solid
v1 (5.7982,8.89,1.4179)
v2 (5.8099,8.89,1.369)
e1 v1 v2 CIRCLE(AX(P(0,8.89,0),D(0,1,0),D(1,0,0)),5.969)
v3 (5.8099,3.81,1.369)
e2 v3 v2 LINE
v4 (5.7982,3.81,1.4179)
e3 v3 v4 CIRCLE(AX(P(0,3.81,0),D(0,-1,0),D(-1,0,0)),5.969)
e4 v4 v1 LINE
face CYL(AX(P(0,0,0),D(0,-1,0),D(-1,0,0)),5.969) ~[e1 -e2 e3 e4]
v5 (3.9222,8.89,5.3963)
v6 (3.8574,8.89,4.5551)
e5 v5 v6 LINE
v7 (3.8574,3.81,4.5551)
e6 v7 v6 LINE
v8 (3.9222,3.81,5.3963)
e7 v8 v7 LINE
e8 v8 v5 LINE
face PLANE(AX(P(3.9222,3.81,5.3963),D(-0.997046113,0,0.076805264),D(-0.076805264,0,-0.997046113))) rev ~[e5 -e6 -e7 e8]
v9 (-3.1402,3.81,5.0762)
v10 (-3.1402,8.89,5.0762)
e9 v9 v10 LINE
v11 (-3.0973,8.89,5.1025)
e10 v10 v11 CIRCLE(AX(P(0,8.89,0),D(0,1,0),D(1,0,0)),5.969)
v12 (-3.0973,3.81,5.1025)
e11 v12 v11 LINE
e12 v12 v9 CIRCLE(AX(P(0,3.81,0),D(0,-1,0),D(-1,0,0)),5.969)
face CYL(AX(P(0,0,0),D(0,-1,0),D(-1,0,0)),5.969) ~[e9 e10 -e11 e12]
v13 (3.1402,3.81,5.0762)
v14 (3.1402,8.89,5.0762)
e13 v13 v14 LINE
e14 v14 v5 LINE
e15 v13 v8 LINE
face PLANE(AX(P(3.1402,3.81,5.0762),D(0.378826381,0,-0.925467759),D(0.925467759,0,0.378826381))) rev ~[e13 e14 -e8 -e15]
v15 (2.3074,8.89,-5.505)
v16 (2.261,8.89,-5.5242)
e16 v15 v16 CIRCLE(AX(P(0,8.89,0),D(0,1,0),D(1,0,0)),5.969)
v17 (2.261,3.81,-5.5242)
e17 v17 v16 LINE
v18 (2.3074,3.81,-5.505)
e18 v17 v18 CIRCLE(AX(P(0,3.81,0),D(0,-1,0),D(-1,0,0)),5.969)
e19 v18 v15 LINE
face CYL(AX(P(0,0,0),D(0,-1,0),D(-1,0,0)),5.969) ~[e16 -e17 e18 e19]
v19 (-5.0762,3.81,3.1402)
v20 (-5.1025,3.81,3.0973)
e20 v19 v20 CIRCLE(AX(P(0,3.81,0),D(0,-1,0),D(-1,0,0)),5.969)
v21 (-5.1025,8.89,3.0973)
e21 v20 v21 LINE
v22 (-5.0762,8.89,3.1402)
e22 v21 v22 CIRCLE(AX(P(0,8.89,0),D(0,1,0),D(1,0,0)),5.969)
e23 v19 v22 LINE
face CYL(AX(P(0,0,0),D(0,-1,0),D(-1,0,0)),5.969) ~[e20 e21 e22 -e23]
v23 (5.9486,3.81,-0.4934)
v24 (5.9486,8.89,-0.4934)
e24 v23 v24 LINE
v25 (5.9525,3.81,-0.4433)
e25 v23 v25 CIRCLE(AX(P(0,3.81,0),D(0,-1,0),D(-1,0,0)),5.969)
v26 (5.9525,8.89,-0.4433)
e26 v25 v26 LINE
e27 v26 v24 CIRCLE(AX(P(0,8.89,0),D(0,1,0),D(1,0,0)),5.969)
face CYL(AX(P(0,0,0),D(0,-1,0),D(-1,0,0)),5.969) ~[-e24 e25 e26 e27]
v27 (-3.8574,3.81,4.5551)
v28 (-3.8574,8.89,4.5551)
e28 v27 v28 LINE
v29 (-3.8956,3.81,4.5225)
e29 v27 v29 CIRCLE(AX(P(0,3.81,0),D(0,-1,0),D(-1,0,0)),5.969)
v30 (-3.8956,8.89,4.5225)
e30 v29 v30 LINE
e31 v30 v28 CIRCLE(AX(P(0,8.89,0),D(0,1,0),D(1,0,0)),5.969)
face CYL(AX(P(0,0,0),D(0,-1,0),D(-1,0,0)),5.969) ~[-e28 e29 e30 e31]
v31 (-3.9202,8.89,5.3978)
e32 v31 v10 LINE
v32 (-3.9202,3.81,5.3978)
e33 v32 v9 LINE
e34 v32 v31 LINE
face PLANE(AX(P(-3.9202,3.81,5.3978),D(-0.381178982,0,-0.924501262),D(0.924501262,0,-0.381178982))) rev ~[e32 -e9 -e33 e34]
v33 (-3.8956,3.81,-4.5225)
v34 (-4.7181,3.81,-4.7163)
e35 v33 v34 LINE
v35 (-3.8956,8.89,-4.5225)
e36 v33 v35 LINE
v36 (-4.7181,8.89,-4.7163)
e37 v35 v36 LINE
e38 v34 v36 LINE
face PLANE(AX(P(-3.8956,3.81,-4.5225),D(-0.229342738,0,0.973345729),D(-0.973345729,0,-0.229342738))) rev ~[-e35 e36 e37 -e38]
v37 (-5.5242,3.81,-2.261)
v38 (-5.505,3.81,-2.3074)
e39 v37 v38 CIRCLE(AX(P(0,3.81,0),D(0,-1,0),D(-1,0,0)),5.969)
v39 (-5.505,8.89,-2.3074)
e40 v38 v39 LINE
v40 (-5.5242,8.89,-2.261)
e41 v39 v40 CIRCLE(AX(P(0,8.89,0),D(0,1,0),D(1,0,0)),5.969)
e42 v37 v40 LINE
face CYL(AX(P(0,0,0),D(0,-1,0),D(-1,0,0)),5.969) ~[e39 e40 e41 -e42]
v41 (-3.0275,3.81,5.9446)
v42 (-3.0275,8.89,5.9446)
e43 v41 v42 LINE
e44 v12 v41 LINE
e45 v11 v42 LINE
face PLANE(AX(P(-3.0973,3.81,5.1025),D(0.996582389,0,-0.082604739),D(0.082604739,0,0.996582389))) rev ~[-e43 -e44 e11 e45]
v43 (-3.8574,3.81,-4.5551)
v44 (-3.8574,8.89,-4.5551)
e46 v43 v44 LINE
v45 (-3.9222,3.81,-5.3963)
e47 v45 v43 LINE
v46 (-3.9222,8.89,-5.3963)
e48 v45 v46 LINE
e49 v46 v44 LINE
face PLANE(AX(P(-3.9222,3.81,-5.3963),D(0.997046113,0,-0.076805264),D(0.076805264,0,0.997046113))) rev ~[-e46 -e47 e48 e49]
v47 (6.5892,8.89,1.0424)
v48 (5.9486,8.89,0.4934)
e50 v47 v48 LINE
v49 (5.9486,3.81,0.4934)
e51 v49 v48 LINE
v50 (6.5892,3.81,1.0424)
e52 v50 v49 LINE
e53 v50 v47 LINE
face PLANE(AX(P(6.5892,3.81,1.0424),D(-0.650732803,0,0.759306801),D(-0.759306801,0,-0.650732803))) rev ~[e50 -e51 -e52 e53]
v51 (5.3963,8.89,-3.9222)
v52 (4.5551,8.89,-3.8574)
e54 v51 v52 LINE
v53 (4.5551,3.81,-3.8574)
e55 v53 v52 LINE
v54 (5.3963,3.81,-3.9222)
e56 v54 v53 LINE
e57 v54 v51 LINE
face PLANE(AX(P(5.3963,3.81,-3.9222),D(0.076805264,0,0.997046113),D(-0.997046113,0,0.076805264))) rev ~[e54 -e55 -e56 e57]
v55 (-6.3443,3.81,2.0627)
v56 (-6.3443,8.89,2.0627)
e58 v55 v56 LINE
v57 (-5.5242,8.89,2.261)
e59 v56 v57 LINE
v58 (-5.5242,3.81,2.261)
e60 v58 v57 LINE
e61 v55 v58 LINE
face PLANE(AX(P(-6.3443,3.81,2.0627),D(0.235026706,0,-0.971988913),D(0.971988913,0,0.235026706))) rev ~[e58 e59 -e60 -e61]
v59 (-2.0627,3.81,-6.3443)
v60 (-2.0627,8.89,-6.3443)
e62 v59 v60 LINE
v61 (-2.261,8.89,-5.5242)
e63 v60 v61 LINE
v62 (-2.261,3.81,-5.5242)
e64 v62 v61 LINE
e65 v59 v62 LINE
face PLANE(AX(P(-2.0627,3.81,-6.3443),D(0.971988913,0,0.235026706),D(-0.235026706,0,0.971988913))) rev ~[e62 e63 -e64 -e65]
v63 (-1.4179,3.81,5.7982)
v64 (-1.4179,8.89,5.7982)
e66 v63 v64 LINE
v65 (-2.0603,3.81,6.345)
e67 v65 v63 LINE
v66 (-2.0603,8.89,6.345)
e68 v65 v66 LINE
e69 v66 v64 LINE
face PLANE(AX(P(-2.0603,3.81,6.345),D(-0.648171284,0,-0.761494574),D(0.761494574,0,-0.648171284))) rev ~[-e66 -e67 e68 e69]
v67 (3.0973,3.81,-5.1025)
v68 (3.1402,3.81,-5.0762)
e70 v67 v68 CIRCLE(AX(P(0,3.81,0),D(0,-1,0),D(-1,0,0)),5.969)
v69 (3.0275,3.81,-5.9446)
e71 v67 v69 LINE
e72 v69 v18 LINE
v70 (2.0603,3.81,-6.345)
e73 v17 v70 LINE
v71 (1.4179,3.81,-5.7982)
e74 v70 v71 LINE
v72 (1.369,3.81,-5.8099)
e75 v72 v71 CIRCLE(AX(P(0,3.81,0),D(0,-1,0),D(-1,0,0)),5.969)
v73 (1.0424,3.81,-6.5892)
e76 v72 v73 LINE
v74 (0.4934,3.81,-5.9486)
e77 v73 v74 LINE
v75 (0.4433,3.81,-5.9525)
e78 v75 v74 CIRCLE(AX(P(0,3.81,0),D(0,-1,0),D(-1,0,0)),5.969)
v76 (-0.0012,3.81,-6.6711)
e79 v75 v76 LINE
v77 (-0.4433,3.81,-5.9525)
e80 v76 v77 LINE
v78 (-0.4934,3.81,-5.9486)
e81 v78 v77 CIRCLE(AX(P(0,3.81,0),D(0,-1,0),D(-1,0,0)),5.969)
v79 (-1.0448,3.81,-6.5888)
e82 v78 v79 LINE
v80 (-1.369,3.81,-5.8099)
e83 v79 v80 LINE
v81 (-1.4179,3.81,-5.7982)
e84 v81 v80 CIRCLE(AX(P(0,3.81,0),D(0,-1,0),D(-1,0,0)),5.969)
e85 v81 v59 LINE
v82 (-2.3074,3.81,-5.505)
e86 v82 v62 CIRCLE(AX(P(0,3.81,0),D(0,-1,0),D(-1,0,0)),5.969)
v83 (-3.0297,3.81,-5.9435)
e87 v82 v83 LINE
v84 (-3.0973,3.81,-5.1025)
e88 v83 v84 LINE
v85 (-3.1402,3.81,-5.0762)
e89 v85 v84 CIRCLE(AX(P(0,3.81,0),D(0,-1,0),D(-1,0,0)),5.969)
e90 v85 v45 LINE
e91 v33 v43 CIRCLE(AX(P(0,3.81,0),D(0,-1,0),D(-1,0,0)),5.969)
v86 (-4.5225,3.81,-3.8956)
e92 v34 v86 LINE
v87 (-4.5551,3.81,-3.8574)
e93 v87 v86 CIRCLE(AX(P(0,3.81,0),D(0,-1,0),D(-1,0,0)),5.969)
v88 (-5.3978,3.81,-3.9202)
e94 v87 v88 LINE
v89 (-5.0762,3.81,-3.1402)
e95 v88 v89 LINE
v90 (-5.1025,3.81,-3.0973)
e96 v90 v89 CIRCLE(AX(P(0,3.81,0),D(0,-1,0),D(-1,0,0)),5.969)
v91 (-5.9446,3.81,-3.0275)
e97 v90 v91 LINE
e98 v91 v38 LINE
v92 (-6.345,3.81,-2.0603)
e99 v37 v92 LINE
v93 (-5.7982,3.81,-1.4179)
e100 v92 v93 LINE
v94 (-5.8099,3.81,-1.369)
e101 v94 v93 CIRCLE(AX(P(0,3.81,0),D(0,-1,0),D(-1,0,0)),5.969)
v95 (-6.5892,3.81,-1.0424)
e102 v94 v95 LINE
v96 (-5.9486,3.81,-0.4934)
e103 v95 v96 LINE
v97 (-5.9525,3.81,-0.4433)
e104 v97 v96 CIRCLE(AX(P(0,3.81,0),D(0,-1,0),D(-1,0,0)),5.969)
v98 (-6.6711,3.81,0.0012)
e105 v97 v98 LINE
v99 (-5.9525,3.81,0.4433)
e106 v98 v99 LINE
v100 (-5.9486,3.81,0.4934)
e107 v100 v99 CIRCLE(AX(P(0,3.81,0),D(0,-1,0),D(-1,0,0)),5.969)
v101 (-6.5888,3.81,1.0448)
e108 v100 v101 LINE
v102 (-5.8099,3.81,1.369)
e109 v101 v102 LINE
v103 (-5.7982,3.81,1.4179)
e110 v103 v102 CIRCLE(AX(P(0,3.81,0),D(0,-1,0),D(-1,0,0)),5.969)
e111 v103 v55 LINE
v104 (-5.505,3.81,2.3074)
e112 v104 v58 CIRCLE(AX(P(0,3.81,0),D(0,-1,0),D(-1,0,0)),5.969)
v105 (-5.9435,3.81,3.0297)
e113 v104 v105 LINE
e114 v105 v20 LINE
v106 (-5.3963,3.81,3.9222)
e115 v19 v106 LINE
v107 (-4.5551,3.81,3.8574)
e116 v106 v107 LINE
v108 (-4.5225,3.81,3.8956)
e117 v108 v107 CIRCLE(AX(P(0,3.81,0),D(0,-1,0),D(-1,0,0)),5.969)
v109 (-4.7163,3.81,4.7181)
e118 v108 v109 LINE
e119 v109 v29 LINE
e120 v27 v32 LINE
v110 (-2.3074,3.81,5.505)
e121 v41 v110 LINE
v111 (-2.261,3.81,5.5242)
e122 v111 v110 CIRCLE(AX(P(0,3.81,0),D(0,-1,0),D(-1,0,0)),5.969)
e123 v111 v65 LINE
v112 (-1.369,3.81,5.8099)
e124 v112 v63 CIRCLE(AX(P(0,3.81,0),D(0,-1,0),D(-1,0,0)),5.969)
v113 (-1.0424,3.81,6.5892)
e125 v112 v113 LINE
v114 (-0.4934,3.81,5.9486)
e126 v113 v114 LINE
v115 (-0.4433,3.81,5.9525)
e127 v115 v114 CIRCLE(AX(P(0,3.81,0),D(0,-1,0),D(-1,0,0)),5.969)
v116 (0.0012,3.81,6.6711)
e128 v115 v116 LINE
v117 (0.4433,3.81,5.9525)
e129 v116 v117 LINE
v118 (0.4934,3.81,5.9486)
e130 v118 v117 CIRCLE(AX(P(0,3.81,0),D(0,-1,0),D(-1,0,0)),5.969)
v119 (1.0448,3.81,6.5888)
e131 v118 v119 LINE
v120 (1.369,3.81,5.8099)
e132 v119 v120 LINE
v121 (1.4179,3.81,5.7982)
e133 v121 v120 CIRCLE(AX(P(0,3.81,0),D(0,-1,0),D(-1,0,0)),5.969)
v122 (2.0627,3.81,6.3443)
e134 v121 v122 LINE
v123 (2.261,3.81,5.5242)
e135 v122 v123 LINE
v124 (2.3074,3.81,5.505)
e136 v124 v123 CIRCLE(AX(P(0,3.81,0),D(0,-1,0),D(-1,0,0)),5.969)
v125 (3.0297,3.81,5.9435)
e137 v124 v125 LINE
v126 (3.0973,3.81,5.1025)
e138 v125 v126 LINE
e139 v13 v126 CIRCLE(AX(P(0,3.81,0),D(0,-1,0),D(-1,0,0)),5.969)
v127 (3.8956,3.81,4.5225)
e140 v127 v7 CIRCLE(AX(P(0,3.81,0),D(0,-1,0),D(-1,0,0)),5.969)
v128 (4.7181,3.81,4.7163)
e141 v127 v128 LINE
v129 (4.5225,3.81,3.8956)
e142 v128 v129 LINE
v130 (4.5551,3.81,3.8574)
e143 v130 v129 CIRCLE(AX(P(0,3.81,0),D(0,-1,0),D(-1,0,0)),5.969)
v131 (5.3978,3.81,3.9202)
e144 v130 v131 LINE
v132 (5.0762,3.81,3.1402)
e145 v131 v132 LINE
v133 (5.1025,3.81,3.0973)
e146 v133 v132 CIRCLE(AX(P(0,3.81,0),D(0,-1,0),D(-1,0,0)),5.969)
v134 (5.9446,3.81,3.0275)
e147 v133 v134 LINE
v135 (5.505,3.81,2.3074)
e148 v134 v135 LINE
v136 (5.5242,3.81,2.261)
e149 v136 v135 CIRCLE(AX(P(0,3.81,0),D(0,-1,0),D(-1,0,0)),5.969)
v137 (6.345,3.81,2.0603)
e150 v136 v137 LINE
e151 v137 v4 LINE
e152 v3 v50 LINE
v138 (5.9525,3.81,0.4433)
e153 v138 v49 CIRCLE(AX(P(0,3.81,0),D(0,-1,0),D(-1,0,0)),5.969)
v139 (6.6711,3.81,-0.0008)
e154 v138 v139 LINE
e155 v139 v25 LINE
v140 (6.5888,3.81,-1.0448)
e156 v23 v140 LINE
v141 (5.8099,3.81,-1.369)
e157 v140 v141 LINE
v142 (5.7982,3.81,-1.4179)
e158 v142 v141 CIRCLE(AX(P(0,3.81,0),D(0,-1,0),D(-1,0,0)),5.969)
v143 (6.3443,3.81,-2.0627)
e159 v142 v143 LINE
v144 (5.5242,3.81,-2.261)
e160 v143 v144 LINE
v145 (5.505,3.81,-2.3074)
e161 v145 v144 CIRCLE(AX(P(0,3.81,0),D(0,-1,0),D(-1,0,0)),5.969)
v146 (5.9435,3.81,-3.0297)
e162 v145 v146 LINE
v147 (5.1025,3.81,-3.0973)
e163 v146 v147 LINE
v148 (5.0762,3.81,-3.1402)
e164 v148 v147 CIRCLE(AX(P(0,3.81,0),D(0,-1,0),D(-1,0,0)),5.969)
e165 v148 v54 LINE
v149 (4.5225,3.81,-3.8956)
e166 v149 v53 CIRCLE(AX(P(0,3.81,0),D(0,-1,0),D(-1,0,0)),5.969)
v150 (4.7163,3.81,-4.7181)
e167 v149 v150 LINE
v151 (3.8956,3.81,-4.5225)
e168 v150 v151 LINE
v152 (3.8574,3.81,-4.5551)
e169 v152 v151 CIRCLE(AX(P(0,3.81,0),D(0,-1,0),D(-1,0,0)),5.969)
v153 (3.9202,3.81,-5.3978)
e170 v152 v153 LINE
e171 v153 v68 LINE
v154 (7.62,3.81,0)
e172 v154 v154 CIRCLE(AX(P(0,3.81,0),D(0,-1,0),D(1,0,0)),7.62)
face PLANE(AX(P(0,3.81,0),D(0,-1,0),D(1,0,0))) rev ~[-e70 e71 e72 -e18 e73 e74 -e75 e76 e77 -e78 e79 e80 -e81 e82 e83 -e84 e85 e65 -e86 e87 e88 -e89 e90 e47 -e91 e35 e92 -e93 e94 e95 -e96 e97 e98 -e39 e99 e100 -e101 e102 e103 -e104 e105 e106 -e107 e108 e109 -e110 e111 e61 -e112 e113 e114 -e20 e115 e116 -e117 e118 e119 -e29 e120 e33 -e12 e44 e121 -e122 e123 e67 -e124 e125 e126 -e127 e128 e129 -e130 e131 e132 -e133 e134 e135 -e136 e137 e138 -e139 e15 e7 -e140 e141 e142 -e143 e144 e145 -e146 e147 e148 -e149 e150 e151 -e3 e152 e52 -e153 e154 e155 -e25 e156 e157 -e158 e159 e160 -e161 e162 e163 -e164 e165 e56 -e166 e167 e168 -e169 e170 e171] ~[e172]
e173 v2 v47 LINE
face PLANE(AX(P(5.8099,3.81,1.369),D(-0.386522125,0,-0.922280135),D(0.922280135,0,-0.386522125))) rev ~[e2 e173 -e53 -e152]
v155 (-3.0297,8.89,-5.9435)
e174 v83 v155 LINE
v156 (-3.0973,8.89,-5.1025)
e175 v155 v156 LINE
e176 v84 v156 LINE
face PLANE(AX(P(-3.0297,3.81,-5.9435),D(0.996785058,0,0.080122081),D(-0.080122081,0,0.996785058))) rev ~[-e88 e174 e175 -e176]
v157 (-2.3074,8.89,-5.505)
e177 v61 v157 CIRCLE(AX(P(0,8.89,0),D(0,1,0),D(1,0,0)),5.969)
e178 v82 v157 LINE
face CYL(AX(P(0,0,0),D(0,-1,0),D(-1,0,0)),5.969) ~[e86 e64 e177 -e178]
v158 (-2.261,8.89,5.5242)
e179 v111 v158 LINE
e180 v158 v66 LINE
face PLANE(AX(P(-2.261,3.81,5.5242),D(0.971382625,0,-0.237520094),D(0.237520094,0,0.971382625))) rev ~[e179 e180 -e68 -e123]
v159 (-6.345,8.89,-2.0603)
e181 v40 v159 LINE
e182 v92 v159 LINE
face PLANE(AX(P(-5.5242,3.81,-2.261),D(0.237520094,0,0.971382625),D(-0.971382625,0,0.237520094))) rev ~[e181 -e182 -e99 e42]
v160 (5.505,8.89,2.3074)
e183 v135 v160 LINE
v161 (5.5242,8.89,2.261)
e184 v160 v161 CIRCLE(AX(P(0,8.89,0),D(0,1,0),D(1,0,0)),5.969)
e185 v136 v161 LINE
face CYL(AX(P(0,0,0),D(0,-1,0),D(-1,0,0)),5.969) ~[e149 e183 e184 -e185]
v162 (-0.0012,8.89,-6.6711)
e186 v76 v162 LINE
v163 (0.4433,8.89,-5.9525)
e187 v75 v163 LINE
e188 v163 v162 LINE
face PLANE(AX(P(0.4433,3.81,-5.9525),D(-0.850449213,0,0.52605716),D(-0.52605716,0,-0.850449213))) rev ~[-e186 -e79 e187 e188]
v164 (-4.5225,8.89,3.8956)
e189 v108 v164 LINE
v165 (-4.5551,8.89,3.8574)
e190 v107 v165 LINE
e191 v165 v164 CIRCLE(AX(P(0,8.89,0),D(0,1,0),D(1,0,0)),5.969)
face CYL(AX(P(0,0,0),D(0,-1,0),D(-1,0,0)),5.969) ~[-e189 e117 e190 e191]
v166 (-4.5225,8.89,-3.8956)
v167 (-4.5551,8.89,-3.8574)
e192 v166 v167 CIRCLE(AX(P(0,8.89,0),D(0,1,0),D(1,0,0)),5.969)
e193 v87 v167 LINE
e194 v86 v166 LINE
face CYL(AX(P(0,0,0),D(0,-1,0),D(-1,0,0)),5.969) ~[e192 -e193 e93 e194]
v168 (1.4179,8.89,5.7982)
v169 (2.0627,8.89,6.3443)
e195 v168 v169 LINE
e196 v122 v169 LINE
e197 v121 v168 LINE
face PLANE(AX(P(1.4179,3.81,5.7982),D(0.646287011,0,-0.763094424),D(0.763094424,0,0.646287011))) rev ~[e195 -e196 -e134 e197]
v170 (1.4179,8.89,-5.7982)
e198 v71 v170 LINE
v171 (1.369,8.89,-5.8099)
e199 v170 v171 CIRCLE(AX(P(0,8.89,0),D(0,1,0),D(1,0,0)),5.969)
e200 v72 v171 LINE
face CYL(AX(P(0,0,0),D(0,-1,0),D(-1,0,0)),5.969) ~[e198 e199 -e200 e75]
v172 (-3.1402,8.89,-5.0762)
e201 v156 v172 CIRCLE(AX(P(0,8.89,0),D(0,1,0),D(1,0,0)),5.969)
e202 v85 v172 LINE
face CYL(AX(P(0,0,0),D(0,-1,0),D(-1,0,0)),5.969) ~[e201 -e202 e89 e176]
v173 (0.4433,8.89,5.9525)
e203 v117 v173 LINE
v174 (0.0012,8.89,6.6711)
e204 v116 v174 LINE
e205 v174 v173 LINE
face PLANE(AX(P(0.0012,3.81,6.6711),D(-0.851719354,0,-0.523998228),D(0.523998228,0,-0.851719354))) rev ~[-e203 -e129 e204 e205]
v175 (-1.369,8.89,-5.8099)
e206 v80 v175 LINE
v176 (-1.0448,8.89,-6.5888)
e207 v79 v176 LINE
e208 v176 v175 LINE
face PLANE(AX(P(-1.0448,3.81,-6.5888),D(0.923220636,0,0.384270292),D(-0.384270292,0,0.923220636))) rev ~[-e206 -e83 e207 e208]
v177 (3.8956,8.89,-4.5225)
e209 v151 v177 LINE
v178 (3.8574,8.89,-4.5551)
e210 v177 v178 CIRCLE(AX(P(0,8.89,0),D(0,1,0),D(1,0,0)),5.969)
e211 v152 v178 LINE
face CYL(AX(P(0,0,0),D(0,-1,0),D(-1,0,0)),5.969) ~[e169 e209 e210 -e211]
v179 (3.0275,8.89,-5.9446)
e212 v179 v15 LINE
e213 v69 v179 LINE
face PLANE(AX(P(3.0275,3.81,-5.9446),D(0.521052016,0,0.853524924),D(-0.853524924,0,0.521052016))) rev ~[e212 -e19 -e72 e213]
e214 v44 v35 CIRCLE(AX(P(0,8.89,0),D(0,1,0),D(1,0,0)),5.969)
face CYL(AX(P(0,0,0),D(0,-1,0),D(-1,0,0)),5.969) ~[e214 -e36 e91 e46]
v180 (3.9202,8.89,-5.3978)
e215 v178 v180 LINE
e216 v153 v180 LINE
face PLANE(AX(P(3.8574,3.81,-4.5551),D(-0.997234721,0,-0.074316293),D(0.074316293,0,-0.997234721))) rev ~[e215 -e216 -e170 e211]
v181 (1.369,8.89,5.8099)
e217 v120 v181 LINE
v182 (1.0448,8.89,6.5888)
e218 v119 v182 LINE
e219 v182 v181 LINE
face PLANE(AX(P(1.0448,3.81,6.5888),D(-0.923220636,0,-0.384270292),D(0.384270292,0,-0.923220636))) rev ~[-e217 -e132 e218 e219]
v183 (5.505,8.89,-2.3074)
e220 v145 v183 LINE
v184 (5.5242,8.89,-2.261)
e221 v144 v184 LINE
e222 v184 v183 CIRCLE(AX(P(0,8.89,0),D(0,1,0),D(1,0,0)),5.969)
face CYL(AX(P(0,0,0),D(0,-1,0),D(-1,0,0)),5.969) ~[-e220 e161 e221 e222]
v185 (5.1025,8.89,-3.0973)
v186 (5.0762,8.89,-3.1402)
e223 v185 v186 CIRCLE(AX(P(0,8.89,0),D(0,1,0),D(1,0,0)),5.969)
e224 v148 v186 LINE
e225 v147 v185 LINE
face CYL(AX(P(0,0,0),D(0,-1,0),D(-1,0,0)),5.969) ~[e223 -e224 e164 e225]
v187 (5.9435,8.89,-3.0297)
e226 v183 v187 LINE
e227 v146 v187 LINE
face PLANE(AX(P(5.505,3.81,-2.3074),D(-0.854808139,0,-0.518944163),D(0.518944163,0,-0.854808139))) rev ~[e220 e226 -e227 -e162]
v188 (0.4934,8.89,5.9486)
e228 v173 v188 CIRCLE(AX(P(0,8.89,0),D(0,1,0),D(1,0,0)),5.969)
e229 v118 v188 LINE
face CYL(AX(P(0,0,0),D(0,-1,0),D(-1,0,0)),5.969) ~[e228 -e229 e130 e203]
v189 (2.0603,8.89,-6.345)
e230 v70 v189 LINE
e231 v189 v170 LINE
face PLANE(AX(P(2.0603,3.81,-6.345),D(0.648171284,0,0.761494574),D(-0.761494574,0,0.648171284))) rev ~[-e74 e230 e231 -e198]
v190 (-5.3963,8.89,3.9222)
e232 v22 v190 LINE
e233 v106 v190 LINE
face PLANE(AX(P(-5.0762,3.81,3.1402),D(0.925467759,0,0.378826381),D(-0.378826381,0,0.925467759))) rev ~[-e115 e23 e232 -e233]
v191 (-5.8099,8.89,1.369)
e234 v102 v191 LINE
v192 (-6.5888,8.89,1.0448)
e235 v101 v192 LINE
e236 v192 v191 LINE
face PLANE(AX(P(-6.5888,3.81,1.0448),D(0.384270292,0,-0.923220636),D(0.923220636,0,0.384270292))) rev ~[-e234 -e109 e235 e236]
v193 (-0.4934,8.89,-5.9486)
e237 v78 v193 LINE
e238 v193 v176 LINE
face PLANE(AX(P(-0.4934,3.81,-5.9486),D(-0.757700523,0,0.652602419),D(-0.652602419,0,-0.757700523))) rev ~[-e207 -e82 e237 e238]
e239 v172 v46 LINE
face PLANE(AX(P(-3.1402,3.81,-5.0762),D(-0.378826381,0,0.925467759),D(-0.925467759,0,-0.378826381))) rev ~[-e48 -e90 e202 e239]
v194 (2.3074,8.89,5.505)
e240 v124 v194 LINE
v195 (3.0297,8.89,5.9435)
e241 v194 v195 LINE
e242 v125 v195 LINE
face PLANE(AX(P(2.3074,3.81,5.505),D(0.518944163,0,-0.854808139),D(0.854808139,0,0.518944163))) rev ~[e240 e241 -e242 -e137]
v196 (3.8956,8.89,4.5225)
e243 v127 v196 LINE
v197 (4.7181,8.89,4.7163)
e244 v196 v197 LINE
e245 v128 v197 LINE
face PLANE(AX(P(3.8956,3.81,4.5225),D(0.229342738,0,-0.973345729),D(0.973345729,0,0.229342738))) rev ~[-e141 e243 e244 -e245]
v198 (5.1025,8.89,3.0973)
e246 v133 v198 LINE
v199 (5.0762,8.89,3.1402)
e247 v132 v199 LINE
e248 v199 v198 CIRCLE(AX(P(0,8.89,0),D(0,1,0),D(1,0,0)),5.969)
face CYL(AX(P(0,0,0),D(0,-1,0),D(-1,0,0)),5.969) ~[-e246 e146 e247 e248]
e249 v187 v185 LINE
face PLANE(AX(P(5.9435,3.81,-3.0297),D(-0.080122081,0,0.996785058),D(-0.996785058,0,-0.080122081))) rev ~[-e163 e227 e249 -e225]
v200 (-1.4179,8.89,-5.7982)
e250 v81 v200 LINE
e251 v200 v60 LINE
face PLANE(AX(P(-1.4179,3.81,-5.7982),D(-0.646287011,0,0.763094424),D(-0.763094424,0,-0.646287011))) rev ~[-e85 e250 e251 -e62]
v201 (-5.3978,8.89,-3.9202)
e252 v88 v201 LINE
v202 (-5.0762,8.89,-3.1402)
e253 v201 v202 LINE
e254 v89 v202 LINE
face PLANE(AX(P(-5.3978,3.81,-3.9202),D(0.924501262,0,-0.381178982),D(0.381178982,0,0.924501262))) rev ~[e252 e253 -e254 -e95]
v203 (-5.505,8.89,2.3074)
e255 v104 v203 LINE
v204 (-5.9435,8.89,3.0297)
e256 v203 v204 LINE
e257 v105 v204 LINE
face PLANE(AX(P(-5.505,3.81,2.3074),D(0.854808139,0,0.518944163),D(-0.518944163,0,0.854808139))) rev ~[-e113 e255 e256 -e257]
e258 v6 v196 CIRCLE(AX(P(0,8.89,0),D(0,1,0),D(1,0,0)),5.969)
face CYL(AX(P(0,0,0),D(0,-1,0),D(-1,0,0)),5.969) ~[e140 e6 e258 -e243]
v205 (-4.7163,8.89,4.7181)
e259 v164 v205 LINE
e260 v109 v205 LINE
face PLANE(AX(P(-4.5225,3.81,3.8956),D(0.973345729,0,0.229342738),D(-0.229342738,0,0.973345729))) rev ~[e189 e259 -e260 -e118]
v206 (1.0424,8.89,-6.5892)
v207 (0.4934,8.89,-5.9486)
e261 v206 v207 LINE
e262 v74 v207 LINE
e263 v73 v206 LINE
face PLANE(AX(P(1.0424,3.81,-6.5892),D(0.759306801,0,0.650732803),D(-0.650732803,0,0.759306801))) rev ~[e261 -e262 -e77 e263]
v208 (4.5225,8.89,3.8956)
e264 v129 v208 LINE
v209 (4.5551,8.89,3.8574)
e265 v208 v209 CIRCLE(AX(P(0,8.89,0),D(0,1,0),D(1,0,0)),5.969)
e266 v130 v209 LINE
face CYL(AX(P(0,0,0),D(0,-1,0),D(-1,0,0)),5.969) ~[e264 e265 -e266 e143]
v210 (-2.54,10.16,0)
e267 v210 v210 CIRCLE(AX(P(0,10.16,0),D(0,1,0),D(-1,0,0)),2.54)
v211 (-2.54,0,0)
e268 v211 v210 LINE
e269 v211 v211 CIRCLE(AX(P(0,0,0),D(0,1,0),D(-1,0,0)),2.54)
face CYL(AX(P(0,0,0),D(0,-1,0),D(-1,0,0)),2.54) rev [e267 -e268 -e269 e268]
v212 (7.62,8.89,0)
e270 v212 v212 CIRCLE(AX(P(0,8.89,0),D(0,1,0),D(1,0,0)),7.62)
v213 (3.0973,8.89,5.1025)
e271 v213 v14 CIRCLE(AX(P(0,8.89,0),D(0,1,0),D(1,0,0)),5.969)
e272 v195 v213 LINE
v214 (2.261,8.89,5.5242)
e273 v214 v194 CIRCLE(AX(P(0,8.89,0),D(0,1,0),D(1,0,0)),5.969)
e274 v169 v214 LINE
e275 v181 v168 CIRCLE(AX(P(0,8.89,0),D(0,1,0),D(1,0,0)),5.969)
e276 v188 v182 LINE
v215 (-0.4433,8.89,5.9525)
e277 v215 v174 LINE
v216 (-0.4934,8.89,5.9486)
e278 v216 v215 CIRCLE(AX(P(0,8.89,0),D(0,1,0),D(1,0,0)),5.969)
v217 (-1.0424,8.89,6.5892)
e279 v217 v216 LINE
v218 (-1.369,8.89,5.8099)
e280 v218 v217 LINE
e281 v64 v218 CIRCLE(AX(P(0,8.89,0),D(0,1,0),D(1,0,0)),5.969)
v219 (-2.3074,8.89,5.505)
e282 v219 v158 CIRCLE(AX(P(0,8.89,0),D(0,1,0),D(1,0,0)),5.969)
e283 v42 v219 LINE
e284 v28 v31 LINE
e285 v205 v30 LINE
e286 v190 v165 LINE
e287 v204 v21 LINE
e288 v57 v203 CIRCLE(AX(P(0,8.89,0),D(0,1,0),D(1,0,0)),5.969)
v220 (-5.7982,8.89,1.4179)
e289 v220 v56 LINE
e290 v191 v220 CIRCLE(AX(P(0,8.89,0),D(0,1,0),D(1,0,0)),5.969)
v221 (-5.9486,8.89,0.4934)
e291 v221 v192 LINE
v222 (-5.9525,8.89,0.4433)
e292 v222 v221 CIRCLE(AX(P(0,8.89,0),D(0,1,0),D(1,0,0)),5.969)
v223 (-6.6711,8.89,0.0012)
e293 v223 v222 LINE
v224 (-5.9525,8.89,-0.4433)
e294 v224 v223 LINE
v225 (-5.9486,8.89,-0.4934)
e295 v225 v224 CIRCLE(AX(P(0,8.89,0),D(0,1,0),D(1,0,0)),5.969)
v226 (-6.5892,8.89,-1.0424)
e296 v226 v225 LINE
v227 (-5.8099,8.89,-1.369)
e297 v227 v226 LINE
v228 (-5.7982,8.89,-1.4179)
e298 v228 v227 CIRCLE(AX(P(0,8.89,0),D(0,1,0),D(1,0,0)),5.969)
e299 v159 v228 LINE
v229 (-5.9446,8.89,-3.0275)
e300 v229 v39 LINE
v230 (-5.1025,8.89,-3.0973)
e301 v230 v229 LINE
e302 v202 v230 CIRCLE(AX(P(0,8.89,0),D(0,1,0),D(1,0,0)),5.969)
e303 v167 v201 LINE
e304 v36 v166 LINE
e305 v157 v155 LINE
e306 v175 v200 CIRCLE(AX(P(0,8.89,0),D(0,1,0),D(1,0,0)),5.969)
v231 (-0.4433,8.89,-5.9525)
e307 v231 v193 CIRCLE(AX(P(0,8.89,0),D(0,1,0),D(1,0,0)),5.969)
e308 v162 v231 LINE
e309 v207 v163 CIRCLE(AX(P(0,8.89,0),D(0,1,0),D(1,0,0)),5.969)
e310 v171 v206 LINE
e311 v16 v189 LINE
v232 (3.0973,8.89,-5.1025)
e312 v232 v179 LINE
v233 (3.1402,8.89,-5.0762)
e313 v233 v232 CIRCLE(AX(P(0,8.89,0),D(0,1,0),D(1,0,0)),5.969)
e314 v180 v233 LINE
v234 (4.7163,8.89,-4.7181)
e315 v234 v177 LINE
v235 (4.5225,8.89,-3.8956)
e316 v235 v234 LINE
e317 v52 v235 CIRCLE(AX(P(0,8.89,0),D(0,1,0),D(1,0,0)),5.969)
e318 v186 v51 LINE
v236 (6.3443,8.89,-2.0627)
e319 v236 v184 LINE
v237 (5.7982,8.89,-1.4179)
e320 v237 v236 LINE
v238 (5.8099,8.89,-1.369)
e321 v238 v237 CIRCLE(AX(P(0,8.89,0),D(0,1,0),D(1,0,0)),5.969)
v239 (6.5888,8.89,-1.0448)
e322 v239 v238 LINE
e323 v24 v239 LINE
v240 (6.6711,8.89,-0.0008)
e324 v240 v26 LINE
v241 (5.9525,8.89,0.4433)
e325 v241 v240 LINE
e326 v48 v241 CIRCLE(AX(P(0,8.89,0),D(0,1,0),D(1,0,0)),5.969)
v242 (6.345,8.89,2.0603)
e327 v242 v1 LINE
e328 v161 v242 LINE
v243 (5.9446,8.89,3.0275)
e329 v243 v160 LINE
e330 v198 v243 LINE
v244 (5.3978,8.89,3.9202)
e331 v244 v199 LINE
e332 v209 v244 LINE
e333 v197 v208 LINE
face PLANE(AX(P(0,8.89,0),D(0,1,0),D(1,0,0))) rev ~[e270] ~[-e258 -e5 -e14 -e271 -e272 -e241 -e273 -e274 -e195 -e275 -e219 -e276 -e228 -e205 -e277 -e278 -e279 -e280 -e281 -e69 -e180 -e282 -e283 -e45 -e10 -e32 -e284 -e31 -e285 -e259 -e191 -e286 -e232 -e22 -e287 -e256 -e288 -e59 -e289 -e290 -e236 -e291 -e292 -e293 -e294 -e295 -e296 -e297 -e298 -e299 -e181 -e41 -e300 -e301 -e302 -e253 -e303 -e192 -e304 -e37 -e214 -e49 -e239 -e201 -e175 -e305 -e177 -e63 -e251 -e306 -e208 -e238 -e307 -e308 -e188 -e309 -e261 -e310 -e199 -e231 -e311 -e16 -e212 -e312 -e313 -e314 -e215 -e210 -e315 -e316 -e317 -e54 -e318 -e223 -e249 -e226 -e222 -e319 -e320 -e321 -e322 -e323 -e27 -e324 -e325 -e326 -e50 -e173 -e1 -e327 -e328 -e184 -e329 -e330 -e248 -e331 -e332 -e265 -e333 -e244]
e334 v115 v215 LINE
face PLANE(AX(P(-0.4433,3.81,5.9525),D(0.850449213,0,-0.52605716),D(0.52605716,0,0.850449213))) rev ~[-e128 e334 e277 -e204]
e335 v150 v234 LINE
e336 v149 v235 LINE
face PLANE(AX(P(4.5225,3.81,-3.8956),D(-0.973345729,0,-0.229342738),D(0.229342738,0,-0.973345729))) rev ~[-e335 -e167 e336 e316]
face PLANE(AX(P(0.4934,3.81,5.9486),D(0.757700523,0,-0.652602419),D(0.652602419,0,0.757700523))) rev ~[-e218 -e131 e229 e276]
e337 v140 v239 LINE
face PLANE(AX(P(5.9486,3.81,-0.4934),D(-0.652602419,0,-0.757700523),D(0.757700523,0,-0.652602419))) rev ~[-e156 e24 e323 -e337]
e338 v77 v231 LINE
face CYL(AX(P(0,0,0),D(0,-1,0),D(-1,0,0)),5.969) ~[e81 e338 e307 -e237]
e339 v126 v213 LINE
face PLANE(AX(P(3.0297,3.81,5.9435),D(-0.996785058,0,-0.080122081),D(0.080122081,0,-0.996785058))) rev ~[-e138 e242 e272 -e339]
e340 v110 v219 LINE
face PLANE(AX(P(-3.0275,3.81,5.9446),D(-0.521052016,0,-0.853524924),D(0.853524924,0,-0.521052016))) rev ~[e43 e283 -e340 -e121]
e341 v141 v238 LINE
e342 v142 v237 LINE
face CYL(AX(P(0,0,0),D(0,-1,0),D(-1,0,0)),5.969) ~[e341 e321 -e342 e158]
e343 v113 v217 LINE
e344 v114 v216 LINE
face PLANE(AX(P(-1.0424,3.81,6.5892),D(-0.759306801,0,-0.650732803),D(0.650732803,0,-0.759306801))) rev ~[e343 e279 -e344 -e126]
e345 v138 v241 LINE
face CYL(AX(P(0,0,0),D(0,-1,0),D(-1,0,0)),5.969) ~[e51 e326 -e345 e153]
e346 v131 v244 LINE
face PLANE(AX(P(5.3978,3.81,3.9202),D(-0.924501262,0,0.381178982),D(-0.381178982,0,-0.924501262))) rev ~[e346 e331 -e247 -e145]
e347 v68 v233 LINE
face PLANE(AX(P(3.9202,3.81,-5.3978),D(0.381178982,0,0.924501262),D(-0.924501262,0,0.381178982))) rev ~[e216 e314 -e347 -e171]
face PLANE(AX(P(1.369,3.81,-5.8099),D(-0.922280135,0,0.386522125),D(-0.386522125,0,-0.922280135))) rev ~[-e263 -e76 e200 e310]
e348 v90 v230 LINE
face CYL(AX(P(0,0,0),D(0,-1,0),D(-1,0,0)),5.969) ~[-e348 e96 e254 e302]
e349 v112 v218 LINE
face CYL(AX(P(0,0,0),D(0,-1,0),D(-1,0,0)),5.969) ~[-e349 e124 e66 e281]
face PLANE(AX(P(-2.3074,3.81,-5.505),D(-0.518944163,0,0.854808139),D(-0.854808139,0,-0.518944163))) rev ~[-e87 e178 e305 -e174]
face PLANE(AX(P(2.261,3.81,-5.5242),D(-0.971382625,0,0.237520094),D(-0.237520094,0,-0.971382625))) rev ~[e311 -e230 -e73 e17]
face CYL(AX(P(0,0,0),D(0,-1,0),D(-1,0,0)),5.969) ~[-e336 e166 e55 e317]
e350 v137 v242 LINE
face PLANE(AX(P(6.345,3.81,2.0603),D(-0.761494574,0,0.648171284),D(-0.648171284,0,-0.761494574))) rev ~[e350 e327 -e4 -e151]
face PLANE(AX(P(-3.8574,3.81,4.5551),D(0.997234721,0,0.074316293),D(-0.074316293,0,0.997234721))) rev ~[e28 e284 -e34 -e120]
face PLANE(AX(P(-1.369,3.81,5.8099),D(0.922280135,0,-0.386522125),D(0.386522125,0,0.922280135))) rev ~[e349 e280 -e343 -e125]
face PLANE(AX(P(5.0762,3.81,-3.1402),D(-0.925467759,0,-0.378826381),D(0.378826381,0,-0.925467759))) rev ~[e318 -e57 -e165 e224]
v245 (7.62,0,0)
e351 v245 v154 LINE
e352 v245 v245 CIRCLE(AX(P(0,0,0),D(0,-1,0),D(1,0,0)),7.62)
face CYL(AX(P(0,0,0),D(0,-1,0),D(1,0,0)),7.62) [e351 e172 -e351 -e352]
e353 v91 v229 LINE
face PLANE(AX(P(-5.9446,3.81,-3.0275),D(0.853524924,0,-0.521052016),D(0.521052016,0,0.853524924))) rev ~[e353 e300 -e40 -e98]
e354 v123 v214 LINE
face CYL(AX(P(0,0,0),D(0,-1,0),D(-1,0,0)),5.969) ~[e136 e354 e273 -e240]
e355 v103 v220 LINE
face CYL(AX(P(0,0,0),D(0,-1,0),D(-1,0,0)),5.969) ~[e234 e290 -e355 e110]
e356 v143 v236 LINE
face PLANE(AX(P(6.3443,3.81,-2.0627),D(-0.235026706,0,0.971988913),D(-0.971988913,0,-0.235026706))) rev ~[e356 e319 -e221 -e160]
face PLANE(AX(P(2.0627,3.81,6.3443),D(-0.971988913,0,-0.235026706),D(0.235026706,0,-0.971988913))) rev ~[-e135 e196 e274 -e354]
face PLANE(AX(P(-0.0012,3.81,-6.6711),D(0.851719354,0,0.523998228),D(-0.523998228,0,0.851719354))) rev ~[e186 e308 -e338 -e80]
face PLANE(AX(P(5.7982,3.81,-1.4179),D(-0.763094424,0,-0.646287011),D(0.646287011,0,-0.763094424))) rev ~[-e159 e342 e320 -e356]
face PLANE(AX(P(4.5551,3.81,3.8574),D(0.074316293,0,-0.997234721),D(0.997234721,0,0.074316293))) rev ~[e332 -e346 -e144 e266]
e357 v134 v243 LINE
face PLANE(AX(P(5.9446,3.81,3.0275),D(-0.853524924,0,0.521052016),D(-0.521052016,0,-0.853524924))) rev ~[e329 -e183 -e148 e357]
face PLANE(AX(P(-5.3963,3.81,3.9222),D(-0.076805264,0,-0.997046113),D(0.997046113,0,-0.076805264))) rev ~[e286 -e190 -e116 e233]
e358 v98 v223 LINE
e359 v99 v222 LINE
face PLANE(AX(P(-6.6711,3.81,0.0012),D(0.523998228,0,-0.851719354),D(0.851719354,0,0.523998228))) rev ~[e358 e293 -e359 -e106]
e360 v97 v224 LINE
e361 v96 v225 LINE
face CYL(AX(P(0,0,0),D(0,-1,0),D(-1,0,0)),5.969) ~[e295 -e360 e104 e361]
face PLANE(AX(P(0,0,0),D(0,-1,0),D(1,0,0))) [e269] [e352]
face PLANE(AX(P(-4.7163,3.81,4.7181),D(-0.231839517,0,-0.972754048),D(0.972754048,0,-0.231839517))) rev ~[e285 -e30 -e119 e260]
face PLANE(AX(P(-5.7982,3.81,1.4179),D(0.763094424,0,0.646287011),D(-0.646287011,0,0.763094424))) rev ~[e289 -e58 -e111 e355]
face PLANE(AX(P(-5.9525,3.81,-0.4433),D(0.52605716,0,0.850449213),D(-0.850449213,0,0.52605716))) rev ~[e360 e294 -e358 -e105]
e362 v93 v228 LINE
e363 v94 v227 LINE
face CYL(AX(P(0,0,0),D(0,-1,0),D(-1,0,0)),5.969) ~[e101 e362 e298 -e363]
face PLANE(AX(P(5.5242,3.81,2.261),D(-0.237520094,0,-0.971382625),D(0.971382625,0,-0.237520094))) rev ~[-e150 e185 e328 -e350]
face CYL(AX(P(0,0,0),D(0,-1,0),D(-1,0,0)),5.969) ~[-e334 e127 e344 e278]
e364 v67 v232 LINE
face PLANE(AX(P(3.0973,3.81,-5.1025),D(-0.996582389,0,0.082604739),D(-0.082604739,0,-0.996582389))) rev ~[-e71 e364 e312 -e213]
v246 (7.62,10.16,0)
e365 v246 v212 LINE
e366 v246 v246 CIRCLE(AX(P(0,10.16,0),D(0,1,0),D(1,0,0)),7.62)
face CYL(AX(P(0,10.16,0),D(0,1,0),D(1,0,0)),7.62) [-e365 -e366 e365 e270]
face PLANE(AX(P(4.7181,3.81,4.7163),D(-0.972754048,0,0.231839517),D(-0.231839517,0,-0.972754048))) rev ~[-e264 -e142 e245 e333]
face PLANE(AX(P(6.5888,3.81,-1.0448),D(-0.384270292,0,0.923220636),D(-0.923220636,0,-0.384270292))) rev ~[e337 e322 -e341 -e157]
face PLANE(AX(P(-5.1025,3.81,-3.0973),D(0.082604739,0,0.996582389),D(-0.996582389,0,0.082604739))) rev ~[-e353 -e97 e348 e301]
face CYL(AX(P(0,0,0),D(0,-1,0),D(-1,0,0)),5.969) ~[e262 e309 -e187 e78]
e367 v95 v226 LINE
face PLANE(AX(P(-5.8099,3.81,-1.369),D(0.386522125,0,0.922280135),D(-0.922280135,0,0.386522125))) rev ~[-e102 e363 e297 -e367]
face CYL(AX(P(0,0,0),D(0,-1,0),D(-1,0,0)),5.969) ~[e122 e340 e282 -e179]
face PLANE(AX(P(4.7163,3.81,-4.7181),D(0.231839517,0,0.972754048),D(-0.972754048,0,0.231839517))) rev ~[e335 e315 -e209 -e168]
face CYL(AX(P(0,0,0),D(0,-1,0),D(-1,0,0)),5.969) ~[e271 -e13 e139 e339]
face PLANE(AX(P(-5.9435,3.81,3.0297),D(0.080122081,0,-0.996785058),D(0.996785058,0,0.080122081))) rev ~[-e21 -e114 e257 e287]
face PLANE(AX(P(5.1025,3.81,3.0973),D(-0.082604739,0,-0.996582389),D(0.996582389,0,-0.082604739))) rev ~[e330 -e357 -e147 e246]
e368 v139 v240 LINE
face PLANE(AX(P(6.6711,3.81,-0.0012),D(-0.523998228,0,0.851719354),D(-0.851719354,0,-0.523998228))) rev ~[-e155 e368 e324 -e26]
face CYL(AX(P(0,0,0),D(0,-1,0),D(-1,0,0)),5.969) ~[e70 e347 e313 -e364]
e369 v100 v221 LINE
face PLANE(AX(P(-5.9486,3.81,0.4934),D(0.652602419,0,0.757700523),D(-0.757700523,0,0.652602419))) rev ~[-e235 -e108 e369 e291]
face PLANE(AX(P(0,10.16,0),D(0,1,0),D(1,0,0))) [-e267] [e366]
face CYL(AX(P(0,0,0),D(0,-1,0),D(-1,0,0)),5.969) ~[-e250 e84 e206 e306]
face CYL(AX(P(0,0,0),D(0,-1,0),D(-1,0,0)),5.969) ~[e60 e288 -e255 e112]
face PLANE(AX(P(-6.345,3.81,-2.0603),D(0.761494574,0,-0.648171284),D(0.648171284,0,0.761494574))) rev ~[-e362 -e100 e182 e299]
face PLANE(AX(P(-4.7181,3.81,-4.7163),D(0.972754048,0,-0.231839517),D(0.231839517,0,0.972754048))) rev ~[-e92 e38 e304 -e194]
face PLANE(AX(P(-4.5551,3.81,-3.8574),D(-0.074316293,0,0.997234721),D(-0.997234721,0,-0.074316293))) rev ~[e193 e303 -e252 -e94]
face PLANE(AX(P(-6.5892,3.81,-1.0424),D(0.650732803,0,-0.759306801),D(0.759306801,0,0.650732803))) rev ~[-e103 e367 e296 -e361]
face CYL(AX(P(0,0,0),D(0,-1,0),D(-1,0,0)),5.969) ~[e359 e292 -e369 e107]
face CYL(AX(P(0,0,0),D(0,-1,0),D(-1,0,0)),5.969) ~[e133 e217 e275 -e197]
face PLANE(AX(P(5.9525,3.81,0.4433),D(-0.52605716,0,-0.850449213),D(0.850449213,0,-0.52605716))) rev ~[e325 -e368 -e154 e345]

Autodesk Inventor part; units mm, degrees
ref_plane "YZ Plane" through (0, 0, 0) normal (1, 0, 0) x (0, 1, 0)
ref_plane "XZ Plane" through (0, 0, 0) normal (0, 1, 0) x (-1, 0, 0)
ref_plane "XY Plane" through (0, 0, 0) normal (0, 0, 1) x (1, 0, 0)
sketch "Sketch1" plane through (0, 0, 0) normal (0, 1, 0) x (-1, 0, 0)
  circle A0 centre (0, 0) radius 2.54
  circle A1 centre (0, 0) radius 5.969
  dimension "d0" = 5.08
extrude "Extrusion1" add sketch "Sketch1" along normal blind 10.16
sketch "Sketch2" plane through (0, 10.16, 0) normal (0, 1, 0) x (1, 0, 0)
  circle A0 centre (0, 0) radius 2.54 projected
  circle A1 centre (0, 0) radius 5.969 projected
  line L0 (2.54, 0) -> (6.731, 0)
  circle A2 centre (0, 0) radius 6.731
  dimension "d4" = 4.191
extrude "Extrusion2" add sketch "Sketch2" against normal blind 1.27 contours A2
sketch "Sketch3" plane through (0, 0, 0) normal (0, -1, 0) x (1, 0, 0)
  circle A0 centre (0, 0) radius 5.969 projected
  circle A1 centre (0, 0) radius 6.6711
extrude "Extrusion3" add sketch "Sketch3" against normal blind 3.81
sketch "Sketch4" plane through (0, 3.81, 0) normal (0, 1, 0) x (1, 0, 0)
  circle A0 centre (0, 0) radius 5.969 projected
  circle A1 centre (0, 0) radius 6.6711 projected
  line L0 (5.969, 0.0012) -> (5.3134, 0.0012)
  line L1 (5.3134, 0.0012) -> (5.3134, -0.4433)
  line L2 (5.9525, -0.4433) -> (6.6711, 0.0012)
  line L3 (6.6711, 0.0012) -> (5.9525, 0.4433)
  arc A2 (5.9525, -0.4433) -> (5.9525, 0.4433) centre (0, 0) ccw
  line L4 (5.9486, 0.4934) -> (6.5888, 1.0448)
  line L5 (6.5888, 1.0448) -> (5.8099, 1.369)
  arc A3 (5.9486, 0.4934) -> (5.8099, 1.369) centre (0, 0) ccw
  line L6 (5.7982, 1.4179) -> (6.3443, 2.0627)
  line L7 (6.3443, 2.0627) -> (5.5242, 2.261)
  arc A4 (5.7982, 1.4179) -> (5.5242, 2.261) centre (0, 0) ccw
  line L8 (5.505, 2.3074) -> (5.9435, 3.0297)
  line L9 (5.9435, 3.0297) -> (5.1025, 3.0973)
  arc A5 (5.505, 2.3074) -> (5.1025, 3.0973) centre (0, 0) ccw
  line L10 (5.0762, 3.1402) -> (5.3963, 3.9222)
  line L11 (5.3963, 3.9222) -> (4.5551, 3.8574)
  arc A6 (5.0762, 3.1402) -> (4.5551, 3.8574) centre (0, 0) ccw
  line L12 (4.5225, 3.8956) -> (4.7163, 4.7181)
  line L13 (4.7163, 4.7181) -> (3.8956, 4.5225)
  arc A7 (4.5225, 3.8956) -> (3.8956, 4.5225) centre (0, 0) ccw
  line L14 (3.8574, 4.5551) -> (3.9202, 5.3978)
  line L15 (3.9202, 5.3978) -> (3.1402, 5.0762)
  arc A8 (3.8574, 4.5551) -> (3.1402, 5.0762) centre (0, 0) ccw
  line L16 (3.0973, 5.1025) -> (3.0275, 5.9446)
  line L17 (3.0275, 5.9446) -> (2.3074, 5.505)
  arc A9 (3.0973, 5.1025) -> (2.3074, 5.505) centre (0, 0) ccw
  line L18 (2.261, 5.5242) -> (2.0603, 6.345)
  line L19 (2.0603, 6.345) -> (1.4179, 5.7982)
  arc A10 (2.261, 5.5242) -> (1.4179, 5.7982) centre (0, 0) ccw
  line L20 (1.369, 5.8099) -> (1.0424, 6.5892)
  line L21 (1.0424, 6.5892) -> (0.4934, 5.9486)
  arc A11 (1.369, 5.8099) -> (0.4934, 5.9486) centre (0, 0) ccw
  line L22 (0.4433, 5.9525) -> (-0.0012, 6.6711)
  line L23 (-0.0012, 6.6711) -> (-0.4433, 5.9525)
  arc A12 (0.4433, 5.9525) -> (-0.4433, 5.9525) centre (0, 0) ccw
  line L24 (-0.4934, 5.9486) -> (-1.0448, 6.5888)
  line L25 (-1.0448, 6.5888) -> (-1.369, 5.8099)
  arc A13 (-0.4934, 5.9486) -> (-1.369, 5.8099) centre (0, 0) ccw
  line L26 (-1.4179, 5.7982) -> (-2.0627, 6.3443)
  line L27 (-2.0627, 6.3443) -> (-2.261, 5.5242)
  arc A14 (-1.4179, 5.7982) -> (-2.261, 5.5242) centre (0, 0) ccw
  line L28 (-2.3074, 5.505) -> (-3.0297, 5.9435)
  line L29 (-3.0297, 5.9435) -> (-3.0973, 5.1025)
  arc A15 (-2.3074, 5.505) -> (-3.0973, 5.1025) centre (0, 0) ccw
  line L30 (-3.1402, 5.0762) -> (-3.9222, 5.3963)
  line L31 (-3.9222, 5.3963) -> (-3.8574, 4.5551)
  arc A16 (-3.1402, 5.0762) -> (-3.8574, 4.5551) centre (0, 0) ccw
  line L32 (-3.8956, 4.5225) -> (-4.7181, 4.7163)
  line L33 (-4.7181, 4.7163) -> (-4.5225, 3.8956)
  arc A17 (-3.8956, 4.5225) -> (-4.5225, 3.8956) centre (0, 0) ccw
  line L34 (-4.5551, 3.8574) -> (-5.3978, 3.9202)
  line L35 (-5.3978, 3.9202) -> (-5.0762, 3.1402)
  arc A18 (-4.5551, 3.8574) -> (-5.0762, 3.1402) centre (0, 0) ccw
  line L36 (-5.1025, 3.0973) -> (-5.9446, 3.0275)
  line L37 (-5.9446, 3.0275) -> (-5.505, 2.3074)
  arc A19 (-5.1025, 3.0973) -> (-5.505, 2.3074) centre (0, 0) ccw
  line L38 (-5.5242, 2.261) -> (-6.345, 2.0603)
  line L39 (-6.345, 2.0603) -> (-5.7982, 1.4179)
  arc A20 (-5.5242, 2.261) -> (-5.7982, 1.4179) centre (0, 0) ccw
  line L40 (-5.8099, 1.369) -> (-6.5892, 1.0424)
  line L41 (-6.5892, 1.0424) -> (-5.9486, 0.4934)
  arc A21 (-5.8099, 1.369) -> (-5.9486, 0.4934) centre (0, 0) ccw
  line L42 (-5.9525, 0.4433) -> (-6.6711, -0.0012)
  line L43 (-6.6711, -0.0012) -> (-5.9525, -0.4433)
  arc A22 (-5.9525, 0.4433) -> (-5.9525, -0.4433) centre (0, 0) ccw
  line L44 (-5.9486, -0.4934) -> (-6.5888, -1.0448)
  line L45 (-6.5888, -1.0448) -> (-5.8099, -1.369)
  arc A23 (-5.9486, -0.4934) -> (-5.8099, -1.369) centre (0, 0) ccw
  line L46 (-5.7982, -1.4179) -> (-6.3443, -2.0627)
  line L47 (-6.3443, -2.0627) -> (-5.5242, -2.261)
  arc A24 (-5.7982, -1.4179) -> (-5.5242, -2.261) centre (0, 0) ccw
  line L48 (-5.505, -2.3074) -> (-5.9435, -3.0297)
  line L49 (-5.9435, -3.0297) -> (-5.1025, -3.0973)
  arc A25 (-5.505, -2.3074) -> (-5.1025, -3.0973) centre (0, 0) ccw
  line L50 (-5.0762, -3.1402) -> (-5.3963, -3.9222)
  line L51 (-5.3963, -3.9222) -> (-4.5551, -3.8574)
  arc A26 (-5.0762, -3.1402) -> (-4.5551, -3.8574) centre (0, 0) ccw
  line L52 (-4.5225, -3.8956) -> (-4.7163, -4.7181)
  line L53 (-4.7163, -4.7181) -> (-3.8956, -4.5225)
  arc A27 (-4.5225, -3.8956) -> (-3.8956, -4.5225) centre (0, 0) ccw
  line L54 (-3.8574, -4.5551) -> (-3.9202, -5.3978)
  line L55 (-3.9202, -5.3978) -> (-3.1402, -5.0762)
  arc A28 (-3.8574, -4.5551) -> (-3.1402, -5.0762) centre (0, 0) ccw
  line L56 (-3.0973, -5.1025) -> (-3.0275, -5.9446)
  line L57 (-3.0275, -5.9446) -> (-2.3074, -5.505)
  arc A29 (-3.0973, -5.1025) -> (-2.3074, -5.505) centre (0, 0) ccw
  line L58 (-2.261, -5.5242) -> (-2.0603, -6.345)
  line L59 (-2.0603, -6.345) -> (-1.4179, -5.7982)
  arc A30 (-2.261, -5.5242) -> (-1.4179, -5.7982) centre (0, 0) ccw
  line L60 (-1.369, -5.8099) -> (-1.0424, -6.5892)
  line L61 (-1.0424, -6.5892) -> (-0.4934, -5.9486)
  arc A31 (-1.369, -5.8099) -> (-0.4934, -5.9486) centre (0, 0) ccw
  line L62 (-0.4433, -5.9525) -> (0.0012, -6.6711)
  line L63 (0.0012, -6.6711) -> (0.4433, -5.9525)
  arc A32 (-0.4433, -5.9525) -> (0.4433, -5.9525) centre (0, 0) ccw
  line L64 (0.4934, -5.9486) -> (1.0448, -6.5888)
  line L65 (1.0448, -6.5888) -> (1.369, -5.8099)
  arc A33 (0.4934, -5.9486) -> (1.369, -5.8099) centre (0, 0) ccw
  line L66 (1.4179, -5.7982) -> (2.0627, -6.3443)
  line L67 (2.0627, -6.3443) -> (2.261, -5.5242)
  arc A34 (1.4179, -5.7982) -> (2.261, -5.5242) centre (0, 0) ccw
  line L68 (2.3074, -5.505) -> (3.0297, -5.9435)
  line L69 (3.0297, -5.9435) -> (3.0973, -5.1025)
  arc A35 (2.3074, -5.505) -> (3.0973, -5.1025) centre (0, 0) ccw
  line L70 (3.1402, -5.0762) -> (3.9222, -5.3963)
  line L71 (3.9222, -5.3963) -> (3.8574, -4.5551)
  arc A36 (3.1402, -5.0762) -> (3.8574, -4.5551) centre (0, 0) ccw
  line L72 (3.8956, -4.5225) -> (4.7181, -4.7163)
  line L73 (4.7181, -4.7163) -> (4.5225, -3.8956)
  arc A37 (3.8956, -4.5225) -> (4.5225, -3.8956) centre (0, 0) ccw
  line L74 (4.5551, -3.8574) -> (5.3978, -3.9202)
  line L75 (5.3978, -3.9202) -> (5.0762, -3.1402)
  arc A38 (4.5551, -3.8574) -> (5.0762, -3.1402) centre (0, 0) ccw
  line L76 (5.1025, -3.0973) -> (5.9446, -3.0275)
  line L77 (5.9446, -3.0275) -> (5.505, -2.3074)
  arc A39 (5.1025, -3.0973) -> (5.505, -2.3074) centre (0, 0) ccw
  line L78 (5.5242, -2.261) -> (6.345, -2.0603)
  line L79 (6.345, -2.0603) -> (5.7982, -1.4179)
  arc A40 (5.5242, -2.261) -> (5.7982, -1.4179) centre (0, 0) ccw
  line L80 (5.8099, -1.369) -> (6.5892, -1.0424)
  line L81 (6.5892, -1.0424) -> (5.9486, -0.4934)
  arc A41 (5.8099, -1.369) -> (5.9486, -0.4934) centre (0, 0) ccw
  point P0 (5.8953, 0.935)
  point P1 (5.6765, 1.8457)
  point P2 (5.3179, 2.711)
  point P3 (4.8283, 3.5095)
  point P4 (4.2199, 4.2216)
  point P5 (3.5075, 4.8297)
  point P6 (2.7088, 5.319)
  point P7 (1.8434, 5.6772)
  point P8 (0.9325, 5.8957)
  point P9 (-0.0012, 5.969)
  point P10 (-0.935, 5.8953)
  point P11 (-1.8457, 5.6765)
  point P12 (-2.711, 5.3179)
  point P13 (-3.5095, 4.8283)
  point P14 (-4.2216, 4.2199)
  point P15 (-4.8297, 3.5075)
  point P16 (-5.319, 2.7088)
  point P17 (-5.6772, 1.8434)
  point P18 (-5.8957, 0.9325)
  point P19 (-5.969, -0.0012)
  point P20 (-5.8953, -0.935)
  point P21 (-5.6765, -1.8457)
  point P22 (-5.3179, -2.711)
  point P23 (-4.8283, -3.5095)
  point P24 (-4.2199, -4.2216)
  point P25 (-3.5075, -4.8297)
  point P26 (-2.7088, -5.319)
  point P27 (-1.8434, -5.6772)
  point P28 (-0.9325, -5.8957)
  point P29 (0.0012, -5.969)
  point P30 (0.935, -5.8953)
  point P31 (1.8457, -5.6765)
  point P32 (2.711, -5.3179)
  point P33 (3.5095, -4.8283)
  point P34 (4.2216, -4.2199)
  point P35 (4.8297, -3.5075)
  point P36 (5.319, -2.7088)
  point P37 (5.6772, -1.8434)
  point P38 (5.8957, -0.9325)
  dimension "d9" = 0.4445
  dimension "d12" = 360
extrude "Extrusion4" add sketch "Sketch4" along normal blind 5.08 contours A0 L3 L2 | A0 L5 L4 | L81 L80 A0 | A0 L7 L6 | L78 A0 L79 | L8 A0 L9 | L76 A0 L77 | L10 A0 L11 | L74 A0 L75 | L12 A0 L13 | L72 A0 L73 | L14 A0 L15 | L70 A0 L71 | L16 A0 L17 | L68 A0 L69 | L18 A0 L19 | L66 A0 L67 | L20 A0 L21 | L64 A0 L65 | L22 A0 L23 | L62 A0 L63 | L24 A0 L25 | L60 A0 L61 | L26 A0 L27 | L58 A0 L59 | L28 A0 L29 | L56 A0 L57 | L30 A0 L31 | L54 A0 L55 | L32 A0 L33 | L52 A0 L53 | L34 A0 L35 | L50 A0 L51 | L36 A0 L37 | L48 A0 L49 | L38 A0 L39 | L46 A0 L47 | L40 A0 L41 | L44 A0 L45 | L42 A0 L43
sketch "Sketch5" plane through (0, 0, 0) normal (0, -1, 0) x (1, 0, 0)
  circle A0 centre (0, 0) radius 6.6711 projected
  circle A1 centre (0, 0) radius 2.54 projected
  circle A2 centre (0, 0) radius 7.62
  dimension "d16" = 15.24
extrude "Extrusion5" add sketch "Sketch5" against normal blind 3.81 contours A2
sketch "Sketch6" plane through (0, 10.16, 0) normal (0, 1, 0) x (1, 0, 0)
  circle A0 centre (0, 0) radius 6.731 projected
  circle A1 centre (0, 0) radius 2.54 projected
  circle A2 centre (0, 0) radius 7.62
  dimension "d19" = 15.24
extrude "Extrusion6" add sketch "Sketch6" against normal blind 1.27 contours A2
sketch "Sketch7" plane through (0, 10.16, 0) normal (0, 1, 0) x (1, 0, 0)
  circle A0 centre (0, 0) radius 7.62 projected
  circle A1 centre (0, 0) radius 2.54 projected
properties part number "XY gear"
